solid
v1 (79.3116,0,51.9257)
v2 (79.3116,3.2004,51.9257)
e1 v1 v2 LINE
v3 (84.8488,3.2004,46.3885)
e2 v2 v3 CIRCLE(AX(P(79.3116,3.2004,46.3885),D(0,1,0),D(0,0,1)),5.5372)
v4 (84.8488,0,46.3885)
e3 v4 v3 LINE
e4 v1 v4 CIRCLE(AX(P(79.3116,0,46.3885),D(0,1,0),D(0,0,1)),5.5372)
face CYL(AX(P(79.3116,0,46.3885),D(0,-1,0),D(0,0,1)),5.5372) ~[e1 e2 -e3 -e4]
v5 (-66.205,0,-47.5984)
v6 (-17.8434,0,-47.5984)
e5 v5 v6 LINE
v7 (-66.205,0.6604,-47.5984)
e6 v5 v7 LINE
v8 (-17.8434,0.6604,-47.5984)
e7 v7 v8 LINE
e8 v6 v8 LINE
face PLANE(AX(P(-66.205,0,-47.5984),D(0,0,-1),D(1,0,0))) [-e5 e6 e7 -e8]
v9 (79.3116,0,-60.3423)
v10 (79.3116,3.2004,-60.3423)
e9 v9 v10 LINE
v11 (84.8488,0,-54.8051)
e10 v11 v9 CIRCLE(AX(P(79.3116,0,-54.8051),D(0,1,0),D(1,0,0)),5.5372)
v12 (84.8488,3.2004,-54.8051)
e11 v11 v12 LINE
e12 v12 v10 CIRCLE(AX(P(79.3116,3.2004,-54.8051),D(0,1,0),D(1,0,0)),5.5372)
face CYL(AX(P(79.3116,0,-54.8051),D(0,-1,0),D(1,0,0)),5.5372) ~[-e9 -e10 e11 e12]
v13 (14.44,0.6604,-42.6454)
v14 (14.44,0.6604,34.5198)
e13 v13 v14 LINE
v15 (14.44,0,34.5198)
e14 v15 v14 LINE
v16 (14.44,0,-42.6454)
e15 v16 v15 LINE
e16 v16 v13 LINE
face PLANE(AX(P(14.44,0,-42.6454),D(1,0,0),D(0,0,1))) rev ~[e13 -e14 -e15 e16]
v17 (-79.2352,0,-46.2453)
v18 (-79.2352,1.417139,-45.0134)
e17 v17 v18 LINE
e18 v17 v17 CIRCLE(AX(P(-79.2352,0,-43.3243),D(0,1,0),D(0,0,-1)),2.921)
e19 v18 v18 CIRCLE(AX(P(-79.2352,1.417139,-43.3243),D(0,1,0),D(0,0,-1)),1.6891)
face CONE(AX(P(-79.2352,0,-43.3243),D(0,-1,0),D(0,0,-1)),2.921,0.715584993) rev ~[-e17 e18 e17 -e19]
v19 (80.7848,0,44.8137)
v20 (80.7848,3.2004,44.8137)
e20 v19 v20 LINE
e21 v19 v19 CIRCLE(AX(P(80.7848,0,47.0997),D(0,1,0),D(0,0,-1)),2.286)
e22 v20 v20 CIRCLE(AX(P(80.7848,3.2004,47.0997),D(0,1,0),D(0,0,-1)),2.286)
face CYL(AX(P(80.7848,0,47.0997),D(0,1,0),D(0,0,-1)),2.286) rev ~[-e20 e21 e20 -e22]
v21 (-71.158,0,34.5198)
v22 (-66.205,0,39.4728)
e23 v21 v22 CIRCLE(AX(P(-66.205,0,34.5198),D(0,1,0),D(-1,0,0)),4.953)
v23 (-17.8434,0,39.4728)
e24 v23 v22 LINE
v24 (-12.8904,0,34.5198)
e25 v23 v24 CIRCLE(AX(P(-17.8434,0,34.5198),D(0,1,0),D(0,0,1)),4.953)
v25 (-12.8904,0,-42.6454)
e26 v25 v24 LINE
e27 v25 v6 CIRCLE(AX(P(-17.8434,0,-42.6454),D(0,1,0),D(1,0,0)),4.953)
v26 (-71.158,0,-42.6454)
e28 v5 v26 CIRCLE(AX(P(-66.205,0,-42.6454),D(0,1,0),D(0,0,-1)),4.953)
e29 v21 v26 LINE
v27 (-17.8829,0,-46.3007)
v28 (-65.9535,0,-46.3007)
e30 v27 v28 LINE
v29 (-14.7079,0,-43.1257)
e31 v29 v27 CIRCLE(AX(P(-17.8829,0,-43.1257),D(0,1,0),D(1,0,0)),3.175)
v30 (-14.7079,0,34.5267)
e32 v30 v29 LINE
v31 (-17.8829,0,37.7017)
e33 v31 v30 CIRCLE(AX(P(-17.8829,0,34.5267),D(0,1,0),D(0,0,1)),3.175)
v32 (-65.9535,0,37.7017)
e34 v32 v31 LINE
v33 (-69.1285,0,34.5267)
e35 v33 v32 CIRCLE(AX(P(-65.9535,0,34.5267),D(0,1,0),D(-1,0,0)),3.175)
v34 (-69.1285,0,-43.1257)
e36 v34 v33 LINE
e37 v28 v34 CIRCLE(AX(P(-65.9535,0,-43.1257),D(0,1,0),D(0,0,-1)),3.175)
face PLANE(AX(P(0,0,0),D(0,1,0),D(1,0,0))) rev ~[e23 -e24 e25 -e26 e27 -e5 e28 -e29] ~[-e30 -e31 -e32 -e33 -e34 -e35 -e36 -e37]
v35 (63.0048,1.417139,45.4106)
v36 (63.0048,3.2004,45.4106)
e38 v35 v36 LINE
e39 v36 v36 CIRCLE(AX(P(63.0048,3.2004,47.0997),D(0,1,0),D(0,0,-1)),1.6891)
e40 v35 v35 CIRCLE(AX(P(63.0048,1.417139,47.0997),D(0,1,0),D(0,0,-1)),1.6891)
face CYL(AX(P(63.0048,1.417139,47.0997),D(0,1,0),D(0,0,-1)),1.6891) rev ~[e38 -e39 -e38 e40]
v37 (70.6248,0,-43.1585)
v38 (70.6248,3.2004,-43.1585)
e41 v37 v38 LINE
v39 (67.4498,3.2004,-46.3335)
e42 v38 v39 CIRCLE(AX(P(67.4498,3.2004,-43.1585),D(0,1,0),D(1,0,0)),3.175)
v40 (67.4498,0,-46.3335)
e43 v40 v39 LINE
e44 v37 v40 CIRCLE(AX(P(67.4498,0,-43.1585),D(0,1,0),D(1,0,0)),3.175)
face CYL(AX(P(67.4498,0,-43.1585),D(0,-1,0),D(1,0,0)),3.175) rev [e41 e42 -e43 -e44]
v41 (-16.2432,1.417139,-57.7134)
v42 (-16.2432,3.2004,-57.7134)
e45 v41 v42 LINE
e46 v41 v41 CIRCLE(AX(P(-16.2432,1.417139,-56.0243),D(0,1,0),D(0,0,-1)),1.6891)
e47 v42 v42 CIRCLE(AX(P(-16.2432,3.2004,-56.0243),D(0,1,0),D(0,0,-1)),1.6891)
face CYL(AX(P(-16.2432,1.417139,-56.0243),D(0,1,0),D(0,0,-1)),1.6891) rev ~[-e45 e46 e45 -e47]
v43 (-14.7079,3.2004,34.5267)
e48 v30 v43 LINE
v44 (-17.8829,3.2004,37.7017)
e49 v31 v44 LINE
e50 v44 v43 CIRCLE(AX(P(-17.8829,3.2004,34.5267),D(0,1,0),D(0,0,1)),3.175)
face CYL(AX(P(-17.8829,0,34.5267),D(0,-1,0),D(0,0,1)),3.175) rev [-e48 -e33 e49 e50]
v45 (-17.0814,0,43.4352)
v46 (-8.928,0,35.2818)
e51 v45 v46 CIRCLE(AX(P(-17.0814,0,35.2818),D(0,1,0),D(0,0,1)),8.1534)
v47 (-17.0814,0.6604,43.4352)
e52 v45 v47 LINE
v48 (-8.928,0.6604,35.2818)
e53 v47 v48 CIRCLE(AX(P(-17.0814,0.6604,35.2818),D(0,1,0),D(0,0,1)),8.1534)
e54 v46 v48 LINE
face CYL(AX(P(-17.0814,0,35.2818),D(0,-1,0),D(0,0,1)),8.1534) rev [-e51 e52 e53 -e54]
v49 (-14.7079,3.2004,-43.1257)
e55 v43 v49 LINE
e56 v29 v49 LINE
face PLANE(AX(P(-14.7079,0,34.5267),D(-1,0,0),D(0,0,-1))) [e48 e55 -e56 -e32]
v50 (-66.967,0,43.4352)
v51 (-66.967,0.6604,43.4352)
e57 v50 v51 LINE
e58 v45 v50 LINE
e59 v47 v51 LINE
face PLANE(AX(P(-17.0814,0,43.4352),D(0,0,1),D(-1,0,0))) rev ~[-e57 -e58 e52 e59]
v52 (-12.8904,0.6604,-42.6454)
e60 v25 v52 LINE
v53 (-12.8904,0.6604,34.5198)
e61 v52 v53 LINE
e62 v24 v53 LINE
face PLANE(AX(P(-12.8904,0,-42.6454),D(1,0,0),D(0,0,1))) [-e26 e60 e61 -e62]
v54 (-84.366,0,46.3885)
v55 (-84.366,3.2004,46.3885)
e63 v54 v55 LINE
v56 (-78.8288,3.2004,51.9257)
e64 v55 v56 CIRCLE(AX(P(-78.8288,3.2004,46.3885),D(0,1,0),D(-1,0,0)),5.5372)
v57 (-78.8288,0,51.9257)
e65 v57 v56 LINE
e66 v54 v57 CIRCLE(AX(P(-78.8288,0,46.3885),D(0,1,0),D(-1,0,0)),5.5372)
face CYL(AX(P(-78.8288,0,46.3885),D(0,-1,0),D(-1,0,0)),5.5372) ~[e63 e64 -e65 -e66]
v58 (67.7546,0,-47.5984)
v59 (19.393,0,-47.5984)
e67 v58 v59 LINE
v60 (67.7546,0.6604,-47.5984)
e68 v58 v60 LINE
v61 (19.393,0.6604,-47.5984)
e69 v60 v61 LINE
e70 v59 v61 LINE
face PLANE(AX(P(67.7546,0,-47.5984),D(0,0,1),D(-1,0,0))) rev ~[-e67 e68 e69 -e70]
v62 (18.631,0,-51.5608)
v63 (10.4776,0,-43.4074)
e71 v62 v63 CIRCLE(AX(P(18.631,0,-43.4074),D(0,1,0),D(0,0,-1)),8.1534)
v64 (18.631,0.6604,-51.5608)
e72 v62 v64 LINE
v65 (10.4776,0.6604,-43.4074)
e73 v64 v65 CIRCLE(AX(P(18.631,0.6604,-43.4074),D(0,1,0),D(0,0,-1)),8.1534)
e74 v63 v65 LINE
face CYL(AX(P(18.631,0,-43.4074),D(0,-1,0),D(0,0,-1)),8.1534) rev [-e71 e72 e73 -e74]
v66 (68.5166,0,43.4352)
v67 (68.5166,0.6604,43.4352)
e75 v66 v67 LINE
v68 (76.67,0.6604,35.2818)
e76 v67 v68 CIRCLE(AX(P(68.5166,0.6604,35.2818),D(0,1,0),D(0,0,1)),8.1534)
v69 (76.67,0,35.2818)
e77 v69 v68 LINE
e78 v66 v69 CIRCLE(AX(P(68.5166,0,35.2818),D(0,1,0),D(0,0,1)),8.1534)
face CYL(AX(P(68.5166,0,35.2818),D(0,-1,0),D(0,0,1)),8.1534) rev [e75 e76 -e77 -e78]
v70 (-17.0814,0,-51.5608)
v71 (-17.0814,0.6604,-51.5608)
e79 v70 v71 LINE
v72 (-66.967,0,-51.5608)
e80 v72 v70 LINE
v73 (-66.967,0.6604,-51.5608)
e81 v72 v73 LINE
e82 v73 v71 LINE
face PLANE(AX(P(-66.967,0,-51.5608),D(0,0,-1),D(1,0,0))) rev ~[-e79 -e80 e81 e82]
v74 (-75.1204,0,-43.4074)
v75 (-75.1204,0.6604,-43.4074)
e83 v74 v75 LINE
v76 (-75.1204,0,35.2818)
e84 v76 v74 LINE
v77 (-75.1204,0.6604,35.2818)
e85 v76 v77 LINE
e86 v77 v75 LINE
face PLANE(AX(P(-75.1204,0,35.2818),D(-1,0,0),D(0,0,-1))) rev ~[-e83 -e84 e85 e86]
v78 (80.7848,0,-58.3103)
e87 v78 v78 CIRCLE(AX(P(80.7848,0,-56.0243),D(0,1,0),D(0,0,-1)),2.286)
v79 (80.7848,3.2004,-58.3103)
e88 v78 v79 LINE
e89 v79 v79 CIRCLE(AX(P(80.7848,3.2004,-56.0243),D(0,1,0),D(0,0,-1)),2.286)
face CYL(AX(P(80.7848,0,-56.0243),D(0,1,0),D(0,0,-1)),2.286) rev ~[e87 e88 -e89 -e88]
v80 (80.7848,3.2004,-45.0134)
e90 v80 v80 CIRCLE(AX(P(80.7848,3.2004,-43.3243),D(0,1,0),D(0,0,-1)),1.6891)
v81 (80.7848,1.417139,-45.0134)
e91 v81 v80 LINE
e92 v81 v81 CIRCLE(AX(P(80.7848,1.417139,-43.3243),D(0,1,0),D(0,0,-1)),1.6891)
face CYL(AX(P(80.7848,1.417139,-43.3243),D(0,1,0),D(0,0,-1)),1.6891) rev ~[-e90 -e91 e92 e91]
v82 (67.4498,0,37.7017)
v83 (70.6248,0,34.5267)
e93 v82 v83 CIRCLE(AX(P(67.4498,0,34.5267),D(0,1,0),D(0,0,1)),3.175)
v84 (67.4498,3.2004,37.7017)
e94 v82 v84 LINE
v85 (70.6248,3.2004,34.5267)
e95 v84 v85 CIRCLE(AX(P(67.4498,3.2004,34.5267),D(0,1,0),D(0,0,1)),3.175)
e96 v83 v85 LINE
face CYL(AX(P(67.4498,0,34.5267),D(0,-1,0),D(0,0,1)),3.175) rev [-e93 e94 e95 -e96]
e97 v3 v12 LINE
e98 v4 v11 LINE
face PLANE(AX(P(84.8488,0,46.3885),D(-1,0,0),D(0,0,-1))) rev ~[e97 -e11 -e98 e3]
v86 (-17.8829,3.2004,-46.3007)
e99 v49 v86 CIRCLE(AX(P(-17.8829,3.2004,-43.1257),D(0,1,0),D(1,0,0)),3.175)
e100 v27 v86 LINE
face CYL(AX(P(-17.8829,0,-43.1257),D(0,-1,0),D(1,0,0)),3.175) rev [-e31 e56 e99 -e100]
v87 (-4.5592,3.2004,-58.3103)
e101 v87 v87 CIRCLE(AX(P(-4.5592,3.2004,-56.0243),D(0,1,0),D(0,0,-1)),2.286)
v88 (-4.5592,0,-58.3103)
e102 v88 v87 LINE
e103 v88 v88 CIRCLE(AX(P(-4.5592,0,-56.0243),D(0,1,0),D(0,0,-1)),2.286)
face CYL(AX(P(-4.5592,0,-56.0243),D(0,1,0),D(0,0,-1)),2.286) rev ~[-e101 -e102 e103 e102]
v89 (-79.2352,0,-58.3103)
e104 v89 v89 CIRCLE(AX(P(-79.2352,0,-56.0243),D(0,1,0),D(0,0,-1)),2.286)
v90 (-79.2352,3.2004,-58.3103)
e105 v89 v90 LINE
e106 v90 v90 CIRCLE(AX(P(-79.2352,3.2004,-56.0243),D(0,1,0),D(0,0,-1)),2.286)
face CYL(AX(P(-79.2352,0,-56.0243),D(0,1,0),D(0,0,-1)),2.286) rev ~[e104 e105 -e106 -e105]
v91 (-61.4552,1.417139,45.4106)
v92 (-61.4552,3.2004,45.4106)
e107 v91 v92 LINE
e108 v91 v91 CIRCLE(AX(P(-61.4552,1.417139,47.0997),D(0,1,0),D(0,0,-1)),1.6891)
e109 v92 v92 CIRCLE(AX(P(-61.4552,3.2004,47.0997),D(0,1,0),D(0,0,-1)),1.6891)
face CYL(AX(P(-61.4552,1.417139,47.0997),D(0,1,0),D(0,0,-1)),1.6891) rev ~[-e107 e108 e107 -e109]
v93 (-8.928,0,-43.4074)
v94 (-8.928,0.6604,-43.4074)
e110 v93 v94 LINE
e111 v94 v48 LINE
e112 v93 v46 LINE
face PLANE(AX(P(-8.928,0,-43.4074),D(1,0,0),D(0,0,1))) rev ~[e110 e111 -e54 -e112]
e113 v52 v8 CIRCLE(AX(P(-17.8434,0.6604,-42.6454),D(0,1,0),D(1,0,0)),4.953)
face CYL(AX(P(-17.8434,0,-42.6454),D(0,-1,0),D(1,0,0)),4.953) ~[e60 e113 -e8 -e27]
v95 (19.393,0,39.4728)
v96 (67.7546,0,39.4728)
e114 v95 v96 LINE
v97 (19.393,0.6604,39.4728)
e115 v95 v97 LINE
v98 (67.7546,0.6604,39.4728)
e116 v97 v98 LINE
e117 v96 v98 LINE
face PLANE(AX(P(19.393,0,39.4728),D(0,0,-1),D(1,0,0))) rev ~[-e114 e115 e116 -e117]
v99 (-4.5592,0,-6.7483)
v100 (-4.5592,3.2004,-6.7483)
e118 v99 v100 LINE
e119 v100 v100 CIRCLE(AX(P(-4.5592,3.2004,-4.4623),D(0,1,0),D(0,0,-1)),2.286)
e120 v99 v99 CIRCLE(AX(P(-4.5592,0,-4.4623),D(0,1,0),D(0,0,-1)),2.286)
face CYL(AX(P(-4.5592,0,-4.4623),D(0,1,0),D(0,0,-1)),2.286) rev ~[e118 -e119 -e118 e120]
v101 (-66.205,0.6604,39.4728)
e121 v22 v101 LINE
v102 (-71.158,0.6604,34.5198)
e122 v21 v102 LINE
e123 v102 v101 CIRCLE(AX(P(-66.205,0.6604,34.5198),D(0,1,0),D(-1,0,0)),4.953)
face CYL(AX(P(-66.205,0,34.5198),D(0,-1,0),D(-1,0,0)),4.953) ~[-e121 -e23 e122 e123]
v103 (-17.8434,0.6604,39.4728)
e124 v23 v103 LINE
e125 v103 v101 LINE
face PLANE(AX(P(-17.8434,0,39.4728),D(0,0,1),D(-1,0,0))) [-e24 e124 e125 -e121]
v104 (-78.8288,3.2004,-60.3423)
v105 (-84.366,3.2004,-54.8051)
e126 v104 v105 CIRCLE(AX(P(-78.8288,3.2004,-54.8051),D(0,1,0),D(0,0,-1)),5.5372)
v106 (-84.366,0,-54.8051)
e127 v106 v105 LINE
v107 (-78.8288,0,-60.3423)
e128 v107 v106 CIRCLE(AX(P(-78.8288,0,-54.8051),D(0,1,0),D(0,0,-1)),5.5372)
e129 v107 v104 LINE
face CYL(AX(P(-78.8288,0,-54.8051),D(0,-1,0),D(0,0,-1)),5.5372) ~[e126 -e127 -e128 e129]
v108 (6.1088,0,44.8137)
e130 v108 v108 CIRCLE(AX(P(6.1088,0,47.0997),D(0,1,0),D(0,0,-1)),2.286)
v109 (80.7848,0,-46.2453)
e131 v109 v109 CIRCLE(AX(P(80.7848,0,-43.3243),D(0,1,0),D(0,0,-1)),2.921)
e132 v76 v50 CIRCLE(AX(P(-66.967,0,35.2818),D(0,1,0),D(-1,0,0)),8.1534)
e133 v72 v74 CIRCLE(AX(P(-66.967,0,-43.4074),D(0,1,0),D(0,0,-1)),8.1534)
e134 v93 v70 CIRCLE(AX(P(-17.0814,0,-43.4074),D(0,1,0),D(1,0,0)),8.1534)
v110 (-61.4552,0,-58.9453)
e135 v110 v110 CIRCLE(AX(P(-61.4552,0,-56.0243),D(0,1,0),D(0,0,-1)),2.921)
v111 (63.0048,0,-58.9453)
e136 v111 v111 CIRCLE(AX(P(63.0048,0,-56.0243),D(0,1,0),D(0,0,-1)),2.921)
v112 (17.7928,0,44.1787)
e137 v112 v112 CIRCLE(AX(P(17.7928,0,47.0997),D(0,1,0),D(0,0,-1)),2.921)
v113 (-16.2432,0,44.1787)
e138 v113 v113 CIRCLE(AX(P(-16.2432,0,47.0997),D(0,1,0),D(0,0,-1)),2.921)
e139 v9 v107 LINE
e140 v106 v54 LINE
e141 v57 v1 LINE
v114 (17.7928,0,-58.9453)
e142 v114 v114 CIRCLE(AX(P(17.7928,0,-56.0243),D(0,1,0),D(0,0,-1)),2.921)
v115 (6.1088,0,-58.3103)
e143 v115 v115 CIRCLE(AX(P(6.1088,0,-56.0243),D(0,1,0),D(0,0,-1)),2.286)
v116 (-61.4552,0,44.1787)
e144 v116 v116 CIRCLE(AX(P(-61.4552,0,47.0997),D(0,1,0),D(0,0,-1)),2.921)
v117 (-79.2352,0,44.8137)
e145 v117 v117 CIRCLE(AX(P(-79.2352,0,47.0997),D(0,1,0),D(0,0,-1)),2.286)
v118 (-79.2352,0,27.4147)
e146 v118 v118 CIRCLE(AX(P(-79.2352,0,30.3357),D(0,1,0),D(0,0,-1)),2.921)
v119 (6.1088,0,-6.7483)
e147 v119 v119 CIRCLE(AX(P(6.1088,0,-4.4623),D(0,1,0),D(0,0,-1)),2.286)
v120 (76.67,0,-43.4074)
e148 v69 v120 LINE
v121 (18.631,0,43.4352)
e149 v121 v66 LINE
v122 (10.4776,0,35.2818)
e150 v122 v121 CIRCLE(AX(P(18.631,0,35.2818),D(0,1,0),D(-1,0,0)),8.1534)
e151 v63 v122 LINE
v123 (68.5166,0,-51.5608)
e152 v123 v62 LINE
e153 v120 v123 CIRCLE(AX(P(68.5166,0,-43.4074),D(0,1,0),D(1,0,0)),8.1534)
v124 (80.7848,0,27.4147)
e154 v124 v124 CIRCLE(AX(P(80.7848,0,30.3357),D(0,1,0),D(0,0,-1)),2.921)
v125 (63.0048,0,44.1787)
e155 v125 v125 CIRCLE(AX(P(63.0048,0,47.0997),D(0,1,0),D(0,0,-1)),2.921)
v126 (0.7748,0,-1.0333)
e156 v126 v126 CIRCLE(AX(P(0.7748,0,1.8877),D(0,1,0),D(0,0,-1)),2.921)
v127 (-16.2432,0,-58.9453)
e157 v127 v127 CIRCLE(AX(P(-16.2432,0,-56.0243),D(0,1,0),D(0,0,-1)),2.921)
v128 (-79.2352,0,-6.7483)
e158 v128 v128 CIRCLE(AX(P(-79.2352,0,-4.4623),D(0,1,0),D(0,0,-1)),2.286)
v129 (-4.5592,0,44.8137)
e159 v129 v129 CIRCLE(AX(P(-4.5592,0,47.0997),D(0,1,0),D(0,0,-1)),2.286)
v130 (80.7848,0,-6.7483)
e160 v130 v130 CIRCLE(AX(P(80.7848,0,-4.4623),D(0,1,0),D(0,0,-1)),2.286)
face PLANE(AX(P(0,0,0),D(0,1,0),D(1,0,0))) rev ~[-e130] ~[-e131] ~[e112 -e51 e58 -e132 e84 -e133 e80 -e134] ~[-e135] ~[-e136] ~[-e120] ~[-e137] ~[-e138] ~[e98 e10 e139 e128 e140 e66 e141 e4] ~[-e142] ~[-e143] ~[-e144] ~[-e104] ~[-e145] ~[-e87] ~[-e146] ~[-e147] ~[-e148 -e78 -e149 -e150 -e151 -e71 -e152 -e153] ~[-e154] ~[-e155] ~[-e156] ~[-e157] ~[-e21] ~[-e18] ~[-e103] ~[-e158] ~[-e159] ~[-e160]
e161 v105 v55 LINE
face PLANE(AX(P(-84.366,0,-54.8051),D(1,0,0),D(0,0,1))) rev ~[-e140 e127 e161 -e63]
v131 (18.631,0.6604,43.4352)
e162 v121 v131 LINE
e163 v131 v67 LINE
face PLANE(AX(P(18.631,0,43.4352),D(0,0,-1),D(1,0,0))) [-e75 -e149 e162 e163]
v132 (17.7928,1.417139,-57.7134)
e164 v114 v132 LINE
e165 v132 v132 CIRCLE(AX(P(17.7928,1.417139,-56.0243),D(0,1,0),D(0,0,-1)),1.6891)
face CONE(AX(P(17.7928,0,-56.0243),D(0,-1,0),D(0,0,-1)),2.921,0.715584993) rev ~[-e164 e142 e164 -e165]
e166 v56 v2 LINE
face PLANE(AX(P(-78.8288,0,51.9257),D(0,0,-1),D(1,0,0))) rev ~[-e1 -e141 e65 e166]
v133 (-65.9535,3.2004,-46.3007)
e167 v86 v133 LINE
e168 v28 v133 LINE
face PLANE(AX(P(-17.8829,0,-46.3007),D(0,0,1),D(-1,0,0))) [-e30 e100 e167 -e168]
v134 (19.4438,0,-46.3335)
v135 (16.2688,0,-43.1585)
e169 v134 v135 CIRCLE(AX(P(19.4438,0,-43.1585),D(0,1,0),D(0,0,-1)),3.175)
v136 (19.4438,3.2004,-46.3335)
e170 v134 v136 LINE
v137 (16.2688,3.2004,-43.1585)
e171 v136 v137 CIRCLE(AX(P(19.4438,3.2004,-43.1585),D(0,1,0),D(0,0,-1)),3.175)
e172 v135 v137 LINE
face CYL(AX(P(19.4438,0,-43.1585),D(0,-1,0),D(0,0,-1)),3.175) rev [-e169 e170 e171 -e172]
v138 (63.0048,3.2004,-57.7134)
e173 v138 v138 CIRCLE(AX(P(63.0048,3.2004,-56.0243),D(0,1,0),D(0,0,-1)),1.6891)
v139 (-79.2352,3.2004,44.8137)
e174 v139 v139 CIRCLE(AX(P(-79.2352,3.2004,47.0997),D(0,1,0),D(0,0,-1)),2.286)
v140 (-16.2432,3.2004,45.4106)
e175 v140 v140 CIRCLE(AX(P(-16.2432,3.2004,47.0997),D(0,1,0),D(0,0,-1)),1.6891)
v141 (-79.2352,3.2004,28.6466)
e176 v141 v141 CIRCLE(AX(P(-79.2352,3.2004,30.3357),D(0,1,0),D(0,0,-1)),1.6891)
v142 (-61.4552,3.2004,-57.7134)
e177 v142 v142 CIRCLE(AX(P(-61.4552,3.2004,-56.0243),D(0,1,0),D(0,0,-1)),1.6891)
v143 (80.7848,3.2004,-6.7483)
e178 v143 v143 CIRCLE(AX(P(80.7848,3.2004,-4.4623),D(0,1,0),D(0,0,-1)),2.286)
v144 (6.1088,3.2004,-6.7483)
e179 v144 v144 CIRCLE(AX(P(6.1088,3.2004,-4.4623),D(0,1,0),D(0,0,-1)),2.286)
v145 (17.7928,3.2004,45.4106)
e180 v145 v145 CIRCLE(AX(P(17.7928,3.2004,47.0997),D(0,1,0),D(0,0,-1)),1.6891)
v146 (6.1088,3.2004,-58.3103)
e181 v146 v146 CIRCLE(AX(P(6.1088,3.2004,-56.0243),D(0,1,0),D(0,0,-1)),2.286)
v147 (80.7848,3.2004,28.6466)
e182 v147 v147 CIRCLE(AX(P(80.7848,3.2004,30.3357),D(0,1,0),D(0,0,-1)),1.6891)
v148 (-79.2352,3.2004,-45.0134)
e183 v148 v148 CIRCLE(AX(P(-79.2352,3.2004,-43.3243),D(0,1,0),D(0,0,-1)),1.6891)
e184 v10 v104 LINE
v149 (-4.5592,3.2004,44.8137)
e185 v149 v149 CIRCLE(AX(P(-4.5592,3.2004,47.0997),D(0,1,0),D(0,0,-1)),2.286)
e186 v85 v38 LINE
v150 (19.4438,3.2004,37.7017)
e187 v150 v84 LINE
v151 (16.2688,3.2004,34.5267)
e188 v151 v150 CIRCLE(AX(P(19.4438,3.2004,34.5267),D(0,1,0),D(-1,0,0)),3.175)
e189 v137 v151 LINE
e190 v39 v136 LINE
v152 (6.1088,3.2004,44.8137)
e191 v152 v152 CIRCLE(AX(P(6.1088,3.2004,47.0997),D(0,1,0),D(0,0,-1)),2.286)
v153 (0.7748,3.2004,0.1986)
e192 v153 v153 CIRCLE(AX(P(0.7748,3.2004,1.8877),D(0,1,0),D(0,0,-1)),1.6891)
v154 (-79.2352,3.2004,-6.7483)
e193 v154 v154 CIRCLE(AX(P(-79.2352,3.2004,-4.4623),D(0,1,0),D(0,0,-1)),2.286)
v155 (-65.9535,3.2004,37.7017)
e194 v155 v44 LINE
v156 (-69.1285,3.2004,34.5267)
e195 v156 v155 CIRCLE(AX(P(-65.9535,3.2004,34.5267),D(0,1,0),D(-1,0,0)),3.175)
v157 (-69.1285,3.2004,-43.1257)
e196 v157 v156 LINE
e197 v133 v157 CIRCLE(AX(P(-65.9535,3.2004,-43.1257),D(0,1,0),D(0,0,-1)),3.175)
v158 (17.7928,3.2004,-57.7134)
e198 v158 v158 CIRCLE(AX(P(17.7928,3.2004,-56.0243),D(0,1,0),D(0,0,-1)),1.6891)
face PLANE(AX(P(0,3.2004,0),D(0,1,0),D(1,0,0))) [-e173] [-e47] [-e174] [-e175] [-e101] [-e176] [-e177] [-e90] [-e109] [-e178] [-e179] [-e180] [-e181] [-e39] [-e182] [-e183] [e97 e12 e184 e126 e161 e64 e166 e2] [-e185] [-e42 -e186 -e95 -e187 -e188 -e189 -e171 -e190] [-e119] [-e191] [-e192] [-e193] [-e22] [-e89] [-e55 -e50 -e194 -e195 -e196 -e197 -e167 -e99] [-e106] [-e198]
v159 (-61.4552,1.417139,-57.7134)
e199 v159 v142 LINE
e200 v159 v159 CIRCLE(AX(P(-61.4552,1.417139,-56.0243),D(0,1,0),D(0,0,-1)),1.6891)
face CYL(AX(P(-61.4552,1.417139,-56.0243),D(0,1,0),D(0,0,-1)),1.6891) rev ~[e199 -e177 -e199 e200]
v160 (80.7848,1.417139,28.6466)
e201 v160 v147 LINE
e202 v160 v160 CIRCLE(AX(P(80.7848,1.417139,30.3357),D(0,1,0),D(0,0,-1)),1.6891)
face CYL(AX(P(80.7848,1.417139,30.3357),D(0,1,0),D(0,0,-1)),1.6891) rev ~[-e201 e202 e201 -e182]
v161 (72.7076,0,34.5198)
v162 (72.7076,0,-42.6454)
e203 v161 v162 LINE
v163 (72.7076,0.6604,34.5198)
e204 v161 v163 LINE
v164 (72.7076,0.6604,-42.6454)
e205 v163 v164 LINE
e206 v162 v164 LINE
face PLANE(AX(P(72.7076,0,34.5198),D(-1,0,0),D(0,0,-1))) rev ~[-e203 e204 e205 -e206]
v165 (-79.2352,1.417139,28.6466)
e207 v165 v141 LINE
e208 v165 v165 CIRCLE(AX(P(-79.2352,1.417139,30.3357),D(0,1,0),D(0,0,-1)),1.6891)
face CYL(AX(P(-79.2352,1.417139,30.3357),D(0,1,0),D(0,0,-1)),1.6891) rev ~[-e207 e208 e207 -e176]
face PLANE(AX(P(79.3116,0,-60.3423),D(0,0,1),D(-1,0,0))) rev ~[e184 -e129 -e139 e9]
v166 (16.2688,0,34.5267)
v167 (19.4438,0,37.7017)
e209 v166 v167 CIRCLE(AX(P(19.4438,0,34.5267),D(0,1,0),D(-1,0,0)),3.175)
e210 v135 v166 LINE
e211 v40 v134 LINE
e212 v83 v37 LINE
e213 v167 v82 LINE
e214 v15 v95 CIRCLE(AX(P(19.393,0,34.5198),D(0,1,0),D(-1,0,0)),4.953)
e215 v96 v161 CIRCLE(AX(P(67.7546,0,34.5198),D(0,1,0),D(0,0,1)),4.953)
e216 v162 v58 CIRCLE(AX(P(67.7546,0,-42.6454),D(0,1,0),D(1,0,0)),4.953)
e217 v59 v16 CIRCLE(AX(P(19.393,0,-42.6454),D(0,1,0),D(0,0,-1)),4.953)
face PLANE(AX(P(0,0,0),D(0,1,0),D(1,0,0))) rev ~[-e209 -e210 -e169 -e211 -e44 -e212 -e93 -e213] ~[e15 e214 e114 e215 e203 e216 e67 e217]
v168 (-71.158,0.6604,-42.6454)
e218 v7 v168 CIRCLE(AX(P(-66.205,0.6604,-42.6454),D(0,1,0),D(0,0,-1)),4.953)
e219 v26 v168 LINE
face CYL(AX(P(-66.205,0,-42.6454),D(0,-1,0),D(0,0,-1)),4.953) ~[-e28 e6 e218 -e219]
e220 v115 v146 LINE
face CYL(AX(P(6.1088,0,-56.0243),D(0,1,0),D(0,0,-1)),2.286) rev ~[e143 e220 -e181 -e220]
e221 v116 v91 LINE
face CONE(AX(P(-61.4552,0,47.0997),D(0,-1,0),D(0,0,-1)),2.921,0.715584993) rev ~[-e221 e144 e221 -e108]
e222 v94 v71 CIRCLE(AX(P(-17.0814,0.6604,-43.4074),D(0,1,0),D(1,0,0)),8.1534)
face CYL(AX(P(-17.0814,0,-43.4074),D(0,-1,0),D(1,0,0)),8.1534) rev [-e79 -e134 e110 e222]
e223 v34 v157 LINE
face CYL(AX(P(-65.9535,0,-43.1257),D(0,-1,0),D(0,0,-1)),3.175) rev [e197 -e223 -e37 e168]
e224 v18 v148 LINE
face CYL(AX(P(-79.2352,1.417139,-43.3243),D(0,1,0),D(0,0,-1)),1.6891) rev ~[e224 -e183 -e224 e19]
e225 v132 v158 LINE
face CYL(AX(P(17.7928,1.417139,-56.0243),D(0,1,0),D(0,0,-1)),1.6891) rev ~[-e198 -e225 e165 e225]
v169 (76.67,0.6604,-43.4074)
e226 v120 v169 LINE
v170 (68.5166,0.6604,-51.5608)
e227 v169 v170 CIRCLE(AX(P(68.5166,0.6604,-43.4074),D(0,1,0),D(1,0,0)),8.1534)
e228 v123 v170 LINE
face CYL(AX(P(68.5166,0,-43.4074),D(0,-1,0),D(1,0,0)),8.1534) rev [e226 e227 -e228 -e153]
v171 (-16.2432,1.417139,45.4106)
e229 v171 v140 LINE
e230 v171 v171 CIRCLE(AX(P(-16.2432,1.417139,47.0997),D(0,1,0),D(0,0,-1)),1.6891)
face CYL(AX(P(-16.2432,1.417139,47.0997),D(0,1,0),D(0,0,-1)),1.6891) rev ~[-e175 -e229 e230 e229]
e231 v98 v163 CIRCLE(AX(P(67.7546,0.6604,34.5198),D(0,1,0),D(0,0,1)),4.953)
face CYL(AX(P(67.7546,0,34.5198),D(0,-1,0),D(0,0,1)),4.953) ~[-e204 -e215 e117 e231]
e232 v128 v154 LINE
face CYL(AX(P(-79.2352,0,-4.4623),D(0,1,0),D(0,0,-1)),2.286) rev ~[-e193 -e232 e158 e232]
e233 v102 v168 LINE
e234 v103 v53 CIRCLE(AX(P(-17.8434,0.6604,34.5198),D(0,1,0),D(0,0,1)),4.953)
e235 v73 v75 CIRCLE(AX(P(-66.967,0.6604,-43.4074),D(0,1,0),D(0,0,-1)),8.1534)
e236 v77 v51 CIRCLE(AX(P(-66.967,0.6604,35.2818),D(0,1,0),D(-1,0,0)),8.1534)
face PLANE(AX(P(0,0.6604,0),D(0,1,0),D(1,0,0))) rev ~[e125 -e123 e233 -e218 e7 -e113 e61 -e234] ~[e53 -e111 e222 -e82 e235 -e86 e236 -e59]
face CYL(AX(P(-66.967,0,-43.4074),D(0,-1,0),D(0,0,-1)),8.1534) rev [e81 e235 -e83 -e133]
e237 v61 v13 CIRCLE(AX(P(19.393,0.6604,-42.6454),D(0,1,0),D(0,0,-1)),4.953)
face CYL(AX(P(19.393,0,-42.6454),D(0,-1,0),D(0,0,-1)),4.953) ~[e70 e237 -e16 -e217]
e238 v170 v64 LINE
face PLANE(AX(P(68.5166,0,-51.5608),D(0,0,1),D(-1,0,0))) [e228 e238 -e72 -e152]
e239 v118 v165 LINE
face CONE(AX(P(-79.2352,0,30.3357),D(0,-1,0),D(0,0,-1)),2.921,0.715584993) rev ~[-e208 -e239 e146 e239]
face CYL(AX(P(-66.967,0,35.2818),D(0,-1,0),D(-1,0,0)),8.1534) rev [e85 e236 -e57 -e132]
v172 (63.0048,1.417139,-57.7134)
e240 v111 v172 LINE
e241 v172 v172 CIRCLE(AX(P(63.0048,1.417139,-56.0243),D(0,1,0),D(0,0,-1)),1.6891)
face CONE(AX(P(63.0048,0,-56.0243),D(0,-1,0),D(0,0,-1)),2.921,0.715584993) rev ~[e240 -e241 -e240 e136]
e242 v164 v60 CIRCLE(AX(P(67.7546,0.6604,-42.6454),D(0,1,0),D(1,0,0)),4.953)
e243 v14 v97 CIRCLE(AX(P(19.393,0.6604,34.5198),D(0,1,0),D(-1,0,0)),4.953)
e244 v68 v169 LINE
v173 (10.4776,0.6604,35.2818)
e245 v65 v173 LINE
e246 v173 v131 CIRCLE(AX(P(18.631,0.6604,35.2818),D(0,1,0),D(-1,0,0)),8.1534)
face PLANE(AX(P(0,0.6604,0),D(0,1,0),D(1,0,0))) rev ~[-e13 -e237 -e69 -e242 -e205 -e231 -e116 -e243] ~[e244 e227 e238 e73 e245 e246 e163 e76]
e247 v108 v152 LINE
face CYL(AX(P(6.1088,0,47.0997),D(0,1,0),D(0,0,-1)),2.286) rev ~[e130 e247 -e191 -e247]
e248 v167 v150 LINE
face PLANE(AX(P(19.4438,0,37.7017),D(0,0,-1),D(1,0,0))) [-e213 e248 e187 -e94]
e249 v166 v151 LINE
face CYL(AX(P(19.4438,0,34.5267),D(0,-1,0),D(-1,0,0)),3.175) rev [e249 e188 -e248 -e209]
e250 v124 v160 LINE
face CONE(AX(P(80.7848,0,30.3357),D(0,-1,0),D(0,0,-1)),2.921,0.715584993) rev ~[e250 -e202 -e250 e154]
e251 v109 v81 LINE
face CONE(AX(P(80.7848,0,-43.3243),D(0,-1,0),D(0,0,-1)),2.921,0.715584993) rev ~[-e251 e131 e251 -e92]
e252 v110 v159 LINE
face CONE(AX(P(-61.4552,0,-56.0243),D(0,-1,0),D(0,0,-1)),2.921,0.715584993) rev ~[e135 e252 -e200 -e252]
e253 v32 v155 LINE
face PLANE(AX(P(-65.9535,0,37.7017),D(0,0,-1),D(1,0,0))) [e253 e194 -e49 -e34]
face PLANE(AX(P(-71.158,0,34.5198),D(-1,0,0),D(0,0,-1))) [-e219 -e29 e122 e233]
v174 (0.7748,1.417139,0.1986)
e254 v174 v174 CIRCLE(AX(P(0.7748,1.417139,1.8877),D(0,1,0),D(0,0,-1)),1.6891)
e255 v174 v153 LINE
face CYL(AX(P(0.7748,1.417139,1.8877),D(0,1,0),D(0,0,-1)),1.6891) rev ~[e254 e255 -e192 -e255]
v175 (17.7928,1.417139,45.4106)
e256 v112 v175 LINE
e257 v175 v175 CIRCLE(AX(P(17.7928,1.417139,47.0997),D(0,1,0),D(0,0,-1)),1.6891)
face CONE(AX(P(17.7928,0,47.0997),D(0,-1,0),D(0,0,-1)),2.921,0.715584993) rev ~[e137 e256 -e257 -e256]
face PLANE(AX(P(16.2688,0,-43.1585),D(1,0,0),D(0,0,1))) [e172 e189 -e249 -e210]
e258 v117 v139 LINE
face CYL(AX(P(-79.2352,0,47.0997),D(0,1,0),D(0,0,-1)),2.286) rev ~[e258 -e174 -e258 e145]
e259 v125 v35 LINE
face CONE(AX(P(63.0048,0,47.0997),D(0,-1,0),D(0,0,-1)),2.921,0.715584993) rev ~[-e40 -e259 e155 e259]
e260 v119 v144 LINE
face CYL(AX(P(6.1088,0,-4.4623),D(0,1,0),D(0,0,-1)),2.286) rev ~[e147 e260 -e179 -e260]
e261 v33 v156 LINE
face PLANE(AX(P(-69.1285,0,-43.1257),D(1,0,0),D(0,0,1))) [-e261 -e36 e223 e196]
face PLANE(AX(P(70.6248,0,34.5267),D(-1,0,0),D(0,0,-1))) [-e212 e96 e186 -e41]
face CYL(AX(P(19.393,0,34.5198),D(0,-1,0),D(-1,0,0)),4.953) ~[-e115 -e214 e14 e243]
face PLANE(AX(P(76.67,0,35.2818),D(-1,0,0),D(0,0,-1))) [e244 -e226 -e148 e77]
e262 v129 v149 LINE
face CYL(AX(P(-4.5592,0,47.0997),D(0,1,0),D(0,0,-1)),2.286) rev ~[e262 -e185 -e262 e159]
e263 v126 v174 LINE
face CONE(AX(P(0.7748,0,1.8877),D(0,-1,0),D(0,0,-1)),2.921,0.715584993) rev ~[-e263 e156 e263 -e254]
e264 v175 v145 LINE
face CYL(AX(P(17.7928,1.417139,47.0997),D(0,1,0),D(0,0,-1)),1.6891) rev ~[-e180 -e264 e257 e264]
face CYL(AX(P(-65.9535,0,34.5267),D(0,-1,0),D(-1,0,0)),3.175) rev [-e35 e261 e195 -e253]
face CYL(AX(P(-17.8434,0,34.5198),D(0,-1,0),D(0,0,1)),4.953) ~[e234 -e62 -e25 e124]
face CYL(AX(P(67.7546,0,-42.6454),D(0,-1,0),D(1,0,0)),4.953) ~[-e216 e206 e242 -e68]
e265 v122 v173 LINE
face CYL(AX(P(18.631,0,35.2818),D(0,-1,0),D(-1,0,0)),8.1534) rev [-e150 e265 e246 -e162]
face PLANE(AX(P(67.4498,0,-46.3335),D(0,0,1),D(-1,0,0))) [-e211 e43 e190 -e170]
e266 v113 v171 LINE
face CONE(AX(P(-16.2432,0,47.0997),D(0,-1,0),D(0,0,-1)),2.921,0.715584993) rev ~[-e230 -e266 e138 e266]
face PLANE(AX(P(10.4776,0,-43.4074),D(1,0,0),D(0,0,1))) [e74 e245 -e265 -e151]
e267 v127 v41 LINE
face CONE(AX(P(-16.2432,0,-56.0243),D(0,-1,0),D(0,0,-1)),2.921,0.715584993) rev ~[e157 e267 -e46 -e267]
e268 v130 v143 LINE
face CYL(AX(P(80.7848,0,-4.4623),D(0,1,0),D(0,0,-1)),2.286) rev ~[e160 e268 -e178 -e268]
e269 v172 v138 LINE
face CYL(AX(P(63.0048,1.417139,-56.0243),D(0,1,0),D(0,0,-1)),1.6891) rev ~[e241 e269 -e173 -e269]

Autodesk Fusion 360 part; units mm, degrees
sketch "Front-OuterDimensionsAndHoles" plane through (0, 0, 0) normal (0, 1, 0) x (1, 0, 0) in component "1006351A-GASKET"
  line L0 (-137.0277, -51.6717) -> (147.7462, -51.6717) construction
  line L1 (-113.1932, -37.4477) -> (126.9355, -37.4477) construction
  line L2 (-111.6736, 46.3723) -> (88.9542, 46.3723) construction
  line L3 (-83.38, 4.4623) -> (113.9408, 4.4623) construction
  line L4 (77.012, -30.3357) -> (138.7437, -30.3357) construction
  line L5 (77.3795, 43.3243) -> (102.1824, 43.3243) construction
  line L6 (-79.2352, -152.4901) -> (-79.2352, 67.7682) construction
  line L7 (80.7848, -152.4901) -> (80.7848, 99.4049) construction
  line L8 (-16.2432, -127.3246) -> (-16.2432, -37.4477) construction
  line L9 (-61.4552, -139.7875) -> (-61.4552, -23.5467) construction
  line L10 (-4.5592, -114.8617) -> (-4.5592, -39.3651) construction
  line L11 (0.7748, -102.6384) -> (0.7748, 79.7518) construction
  line L12 (6.1088, -89.6961) -> (6.1088, 17.4372) construction
  line L13 (122.5447, -1.8877) -> (-114.7303, -1.8877) construction
  line L14 (151.0657, 56.0243) -> (-121.6808, 56.0243) construction
  line L15 (-84.366, -162.1054) -> (-84.366, 89.1529) construction
  line L16 (84.8488, -151.7017) -> (84.8488, 106.4269) construction
  line L17 (17.7928, -77.6983) -> (17.7928, -42.3651) construction
  line L18 (63.0048, -65.3317) -> (63.0048, -43.9355) construction
  line L19 (-137.1695, 60.5963) -> (174.7441, 60.5963) construction
  line L20 (-87.8994, -47.0997) -> (156.6849, -47.0997) construction
  line L21 (70.6248, 70.8097) -> (70.6248, -45.2683) construction
  line L22 (16.2688, 71.2679) -> (16.2688, -42.3651) construction
  line L23 (-14.7192, 70.5042) -> (-14.7192, -42.9773) construction
  line L24 (-69.0752, 108.0768) -> (-69.0752, -44.9628) construction
  line L25 (-10.7822, 93.2616) -> (-10.7822, -44.6574) construction
  line L26 (73.9383, 85.014) -> (73.9383, -42.8245) construction
  line L27 (-101.4005, 49.5796) -> (76.5348, 49.5796) construction
  line L28 (-100.0259, -41.454) -> (76.8403, -41.454) construction
  line L29 (-78.8288, -51.9257) -> (79.3116, -51.9257)
  line L30 (84.8488, -46.3885) -> (84.8488, 54.8051)
  line L31 (79.3116, 60.3423) -> (-78.8288, 60.3423)
  line L32 (-84.366, 54.8051) -> (-84.366, -46.3885)
  line L33 (-65.9535, -37.7017) -> (-17.8829, -37.7017)
  line L34 (-14.7079, -34.5267) -> (-14.7079, 43.1257)
  line L35 (-17.8829, 46.3007) -> (-65.9535, 46.3007)
  line L36 (-69.1285, 43.1257) -> (-69.1285, -34.5267)
  line L37 (19.4438, -37.7017) -> (67.4498, -37.7017)
  line L38 (70.6248, -34.5267) -> (70.6248, 43.1585)
  line L39 (67.4498, 46.3335) -> (19.4438, 46.3335)
  line L40 (16.2688, 43.1585) -> (16.2688, -34.5267)
  arc A0 (-84.366, -46.3885) -> (-78.8288, -51.9257) centre (-78.8288, -46.3885) ccw
  arc A1 (-78.8288, 60.3423) -> (-84.366, 54.8051) centre (-78.8288, 54.8051) ccw
  arc A2 (84.8488, 54.8051) -> (79.3116, 60.3423) centre (79.3116, 54.8051) ccw
  arc A3 (-69.1285, -34.5267) -> (-65.9535, -37.7017) centre (-65.9535, -34.5267) ccw
  arc A4 (-17.8829, -37.7017) -> (-14.7079, -34.5267) centre (-17.8829, -34.5267) ccw
  arc A5 (-14.7079, 43.1257) -> (-17.8829, 46.3007) centre (-17.8829, 43.1257) ccw
  arc A6 (-65.9535, 46.3007) -> (-69.1285, 43.1257) centre (-65.9535, 43.1257) ccw
  arc A7 (67.4498, -37.7017) -> (70.6248, -34.5267) centre (67.4498, -34.5267) ccw
  arc A8 (70.6248, 43.1585) -> (67.4498, 46.3335) centre (67.4498, 43.1585) ccw
  arc A9 (19.4438, 46.3335) -> (16.2688, 43.1585) centre (19.4438, 43.1585) ccw
  arc A10 (16.2688, -34.5267) -> (19.4438, -37.7017) centre (19.4438, -34.5267) ccw
  arc A11 (79.3116, -51.9257) -> (84.8488, -46.3885) centre (79.3116, -46.3885) ccw
  line L41 (-100.3246, -43.4352) -> (86.6573, -43.4352) construction
  line L42 (-99.9078, -39.4728) -> (77.154, -39.4728) construction
  line L43 (-94.8446, 47.5984) -> (76.1721, 47.5984) construction
  line L44 (-94.4522, 51.5608) -> (76.1721, 51.5608) construction
  line L45 (-73.0122, 86.7279) -> (-73.0122, -45.4577) construction
  line L46 (-8.801, 72.5566) -> (-8.801, -44.6167) construction
  line L47 (-12.7634, 72.2199) -> (-12.7634, -44.6167) construction
  line L48 (-74.9934, 70.9572) -> (-74.9934, -44.6167) construction
  line L49 (-71.031, 71.0414) -> (-71.031, -44.3641) construction
  line L50 (-66.967, 51.5608) -> (-17.0814, 51.5608)
  line L51 (-8.928, 43.4074) -> (-8.928, -35.2818)
  line L52 (-17.0814, -43.4352) -> (-66.967, -43.4352)
  line L53 (-75.1204, -35.2818) -> (-75.1204, 43.4074)
  line L54 (-66.205, 47.5984) -> (-17.8434, 47.5984)
  line L55 (-12.8904, 42.6454) -> (-12.8904, -34.5198)
  line L56 (-17.8434, -39.4728) -> (-66.205, -39.4728)
  line L57 (-71.158, -34.5198) -> (-71.158, 42.6454)
  arc A12 (-75.1204, -35.2818) -> (-66.967, -43.4352) centre (-66.967, -35.2818) ccw
  arc A13 (-17.0814, -43.4352) -> (-8.928, -35.2818) centre (-17.0814, -35.2818) ccw
  arc A14 (-8.928, 43.4074) -> (-17.0814, 51.5608) centre (-17.0814, 43.4074) ccw
  arc A15 (-66.967, 51.5608) -> (-75.1204, 43.4074) centre (-66.967, 43.4074) ccw
  arc A16 (-71.158, -34.5198) -> (-66.205, -39.4728) centre (-66.205, -34.5198) ccw
  arc A17 (-66.205, 47.5984) -> (-71.158, 42.6454) centre (-66.205, 42.6454) ccw
  arc A18 (-12.8904, 42.6454) -> (-17.8434, 47.5984) centre (-17.8434, 42.6454) ccw
  arc A19 (-17.8434, -39.4728) -> (-12.8904, -34.5198) centre (-17.8434, -34.5198) ccw
  line L58 (18.631, -43.4352) -> (68.5166, -43.4352)
  arc A20 (68.5166, -43.4352) -> (76.67, -35.2818) centre (68.5166, -35.2818) ccw
  line L59 (76.67, -35.2818) -> (76.67, 43.4074)
  arc A21 (76.67, 43.4074) -> (68.5166, 51.5608) centre (68.5166, 43.4074) ccw
  line L60 (68.5166, 51.5608) -> (18.631, 51.5608)
  arc A22 (18.631, 51.5608) -> (10.4776, 43.4074) centre (18.631, 43.4074) ccw
  line L61 (10.4776, 43.4074) -> (10.4776, -35.2818)
  arc A23 (10.4776, -35.2818) -> (18.631, -43.4352) centre (18.631, -35.2818) ccw
  line L62 (19.393, -39.4728) -> (67.7546, -39.4728)
  arc A24 (67.7546, -39.4728) -> (72.7076, -34.5198) centre (67.7546, -34.5198) ccw
  line L63 (72.7076, -34.5198) -> (72.7076, 42.6454)
  arc A25 (72.7076, 42.6454) -> (67.7546, 47.5984) centre (67.7546, 42.6454) ccw
  line L64 (67.7546, 47.5984) -> (19.393, 47.5984)
  arc A26 (19.393, 47.5984) -> (14.44, 42.6454) centre (19.393, 42.6454) ccw
  line L65 (14.44, 42.6454) -> (14.44, -34.5198)
  line L66 (101.4573, -39.4728) -> (-75.6045, -39.4728) construction
  arc A27 (14.44, -34.5198) -> (19.393, -39.4728) centre (19.393, -34.5198) ccw
  point P0 (-79.2352, -47.0997)
  point P1 (-4.5592, -47.0997)
  point P2 (6.1088, -47.0997)
  point P3 (80.7848, -47.0997)
  point P4 (80.7848, 4.4623)
  point P5 (6.1088, 4.4623)
  point P6 (-79.2352, 4.4623)
  point P7 (-4.5592, 4.4623)
  point P8 (80.7848, 56.0243)
  point P9 (6.1088, 56.0243)
  point P10 (-4.5592, 56.0243)
  point P11 (-79.2352, 56.0243)
  point P12 (80.7848, -30.3357)
  point P13 (80.7848, 43.3243)
  point P14 (63.0048, -47.0997)
  point P15 (17.7928, -47.0997)
  point P16 (17.7928, 56.0243)
  point P17 (63.0048, 56.0243)
  point P18 (0.7748, -1.8877)
  point P19 (-16.2432, -47.0997)
  point P20 (-61.4552, -47.0997)
  point P21 (-79.2352, -30.3357)
  point P22 (-79.2352, 43.3243)
  point P23 (-61.4552, 56.0243)
  point P24 (-16.2432, 56.0243)
  dimension "d1" = 169.2148
  dimension "d2" = 4.064
  dimension "d3" = 160.02
  dimension "d4" = 142.24
  dimension "d5" = 97.028
  dimension "d6" = 85.344
  dimension "d7" = 80.01
  dimension "d8" = 74.676
  dimension "d9" = 17.78
  dimension "d10" = 62.992
  dimension "d12" = 112.268
  dimension "d13" = 103.124
  dimension "d14" = 51.562
  dimension "d16" = 57.912
  dimension "d17" = 86.36
  dimension "d18" = 12.7
  dimension "d19" = 14.224
  dimension "d20" = 4.572
  dimension "d21" = 14.224
  dimension "d22" = 14.224
  dimension "d23" = 54.356
  dimension "d24" = 54.356
  dimension "d25" = 91.0336
  dimension "d27" = 5.5372
  dimension "d28" = 5.5372
  dimension "d29" = 5.5372
  dimension "d30" = 3.175
  dimension "d31" = 3.175
  dimension "d32" = 3.175
  dimension "d33" = 3.175
  dimension "d34" = 3.175
  dimension "d35" = 3.175
  dimension "d36" = 3.175
  dimension "d37" = 3.175
  dimension "d40" = 5.5372
  dimension "d49" = 1.9812
  dimension "d50" = 1.9812
  dimension "d51" = 1.9812
  dimension "d52" = 1.9812
  dimension "d53" = 91.567
  dimension "d54" = 62.23
  dimension "d55" = 1.9812
  dimension "d56" = 1.9812
  dimension "d57" = 1.9812
  dimension "d58" = 1.9812
  dimension "d59" = 8.1534
  dimension "d60" = 8.1534
  dimension "d61" = 8.1534
  dimension "d62" = 8.1534
  dimension "d63" = 4.953
  dimension "d64" = 4.953
  dimension "d65" = 4.953
  dimension "d66" = 4.953
  dimension "d69" = 153.924
extrude "Extrude1" add sketch "Front-OuterDimensionsAndHoles" along normal blind 3.2004 contours L29 L30 L31 L32 A0 A1 A2 A11 | L50 L51 L52 L53 A12 A13 A14 A15 | L54 L55 L56 L57 A16 A17 A18 A19 | L58 A20 L59 A21 L60 A22 L61 A23 | L62 A24 L63 A25 L64 A26 L65 A27 in component "1006351A-GASKET"
hole "Hole1" at (80.7848, 0, 47.0997) at (6.1088, 0, 47.0997) at (-4.5592, 0, 47.0997) at (-79.2352, 0, 47.0997) at (-79.2352, 0, -56.0243) at (6.1088, 0, -56.0243) at (-4.5592, 0, -56.0243) at (80.7848, 0, -56.0243) at (80.7848, 0, -4.4623) at (6.1088, 0, -4.4623) at (-4.5592, 0, -4.4623) at (-79.2352, 0, -4.4623) direction (0, 1, 0) diameter 4.572 end through all in component "1006351A-GASKET"
hole "Hole2" at (-61.4552, 0, 47.0997) at (-16.2432, 0, 47.0997) at (17.7928, 0, 47.0997) at (63.0048, 0, 47.0997) at (80.7848, 0, 30.3357) at (80.7848, 0, -43.3243) at (63.0048, 0, -56.0243) at (0.7748, 0, 1.8877) at (-16.2432, 0, -56.0243) at (17.7928, 0, -56.0243) at (-61.4552, 0, -56.0243) at (-79.2352, 0, -43.3243) at (-79.2352, 0, 30.3357) direction (0, 1, 0) diameter 3.3782 end through all countersink diameter 5.842 countersink angle 82 in component "1006351A-GASKET"
extrude "Extrude2" cut sketch "Front-OuterDimensionsAndHoles" along normal blind 0.6604 contours L50 L51 L52 L53 A12 A13 A14 A15 | L58 A20 L59 A21 L60 A22 L61 A23 in component "1006351A-GASKET"
component "1006351A-GASKET" placed x (1, 0, 0) y (0, 1, 0) z (0, 0, 1) at (0, 0, 0)
equation "d49 = ( 0.156 / 2 ) * 1 in"
equation "d50 = ( 0.156 / 2 ) * 1 in"
equation "d51 = ( 0.156 / 2 ) * 1 in"
equation "d52 = ( 0.156 / 2 ) * 1 in"
